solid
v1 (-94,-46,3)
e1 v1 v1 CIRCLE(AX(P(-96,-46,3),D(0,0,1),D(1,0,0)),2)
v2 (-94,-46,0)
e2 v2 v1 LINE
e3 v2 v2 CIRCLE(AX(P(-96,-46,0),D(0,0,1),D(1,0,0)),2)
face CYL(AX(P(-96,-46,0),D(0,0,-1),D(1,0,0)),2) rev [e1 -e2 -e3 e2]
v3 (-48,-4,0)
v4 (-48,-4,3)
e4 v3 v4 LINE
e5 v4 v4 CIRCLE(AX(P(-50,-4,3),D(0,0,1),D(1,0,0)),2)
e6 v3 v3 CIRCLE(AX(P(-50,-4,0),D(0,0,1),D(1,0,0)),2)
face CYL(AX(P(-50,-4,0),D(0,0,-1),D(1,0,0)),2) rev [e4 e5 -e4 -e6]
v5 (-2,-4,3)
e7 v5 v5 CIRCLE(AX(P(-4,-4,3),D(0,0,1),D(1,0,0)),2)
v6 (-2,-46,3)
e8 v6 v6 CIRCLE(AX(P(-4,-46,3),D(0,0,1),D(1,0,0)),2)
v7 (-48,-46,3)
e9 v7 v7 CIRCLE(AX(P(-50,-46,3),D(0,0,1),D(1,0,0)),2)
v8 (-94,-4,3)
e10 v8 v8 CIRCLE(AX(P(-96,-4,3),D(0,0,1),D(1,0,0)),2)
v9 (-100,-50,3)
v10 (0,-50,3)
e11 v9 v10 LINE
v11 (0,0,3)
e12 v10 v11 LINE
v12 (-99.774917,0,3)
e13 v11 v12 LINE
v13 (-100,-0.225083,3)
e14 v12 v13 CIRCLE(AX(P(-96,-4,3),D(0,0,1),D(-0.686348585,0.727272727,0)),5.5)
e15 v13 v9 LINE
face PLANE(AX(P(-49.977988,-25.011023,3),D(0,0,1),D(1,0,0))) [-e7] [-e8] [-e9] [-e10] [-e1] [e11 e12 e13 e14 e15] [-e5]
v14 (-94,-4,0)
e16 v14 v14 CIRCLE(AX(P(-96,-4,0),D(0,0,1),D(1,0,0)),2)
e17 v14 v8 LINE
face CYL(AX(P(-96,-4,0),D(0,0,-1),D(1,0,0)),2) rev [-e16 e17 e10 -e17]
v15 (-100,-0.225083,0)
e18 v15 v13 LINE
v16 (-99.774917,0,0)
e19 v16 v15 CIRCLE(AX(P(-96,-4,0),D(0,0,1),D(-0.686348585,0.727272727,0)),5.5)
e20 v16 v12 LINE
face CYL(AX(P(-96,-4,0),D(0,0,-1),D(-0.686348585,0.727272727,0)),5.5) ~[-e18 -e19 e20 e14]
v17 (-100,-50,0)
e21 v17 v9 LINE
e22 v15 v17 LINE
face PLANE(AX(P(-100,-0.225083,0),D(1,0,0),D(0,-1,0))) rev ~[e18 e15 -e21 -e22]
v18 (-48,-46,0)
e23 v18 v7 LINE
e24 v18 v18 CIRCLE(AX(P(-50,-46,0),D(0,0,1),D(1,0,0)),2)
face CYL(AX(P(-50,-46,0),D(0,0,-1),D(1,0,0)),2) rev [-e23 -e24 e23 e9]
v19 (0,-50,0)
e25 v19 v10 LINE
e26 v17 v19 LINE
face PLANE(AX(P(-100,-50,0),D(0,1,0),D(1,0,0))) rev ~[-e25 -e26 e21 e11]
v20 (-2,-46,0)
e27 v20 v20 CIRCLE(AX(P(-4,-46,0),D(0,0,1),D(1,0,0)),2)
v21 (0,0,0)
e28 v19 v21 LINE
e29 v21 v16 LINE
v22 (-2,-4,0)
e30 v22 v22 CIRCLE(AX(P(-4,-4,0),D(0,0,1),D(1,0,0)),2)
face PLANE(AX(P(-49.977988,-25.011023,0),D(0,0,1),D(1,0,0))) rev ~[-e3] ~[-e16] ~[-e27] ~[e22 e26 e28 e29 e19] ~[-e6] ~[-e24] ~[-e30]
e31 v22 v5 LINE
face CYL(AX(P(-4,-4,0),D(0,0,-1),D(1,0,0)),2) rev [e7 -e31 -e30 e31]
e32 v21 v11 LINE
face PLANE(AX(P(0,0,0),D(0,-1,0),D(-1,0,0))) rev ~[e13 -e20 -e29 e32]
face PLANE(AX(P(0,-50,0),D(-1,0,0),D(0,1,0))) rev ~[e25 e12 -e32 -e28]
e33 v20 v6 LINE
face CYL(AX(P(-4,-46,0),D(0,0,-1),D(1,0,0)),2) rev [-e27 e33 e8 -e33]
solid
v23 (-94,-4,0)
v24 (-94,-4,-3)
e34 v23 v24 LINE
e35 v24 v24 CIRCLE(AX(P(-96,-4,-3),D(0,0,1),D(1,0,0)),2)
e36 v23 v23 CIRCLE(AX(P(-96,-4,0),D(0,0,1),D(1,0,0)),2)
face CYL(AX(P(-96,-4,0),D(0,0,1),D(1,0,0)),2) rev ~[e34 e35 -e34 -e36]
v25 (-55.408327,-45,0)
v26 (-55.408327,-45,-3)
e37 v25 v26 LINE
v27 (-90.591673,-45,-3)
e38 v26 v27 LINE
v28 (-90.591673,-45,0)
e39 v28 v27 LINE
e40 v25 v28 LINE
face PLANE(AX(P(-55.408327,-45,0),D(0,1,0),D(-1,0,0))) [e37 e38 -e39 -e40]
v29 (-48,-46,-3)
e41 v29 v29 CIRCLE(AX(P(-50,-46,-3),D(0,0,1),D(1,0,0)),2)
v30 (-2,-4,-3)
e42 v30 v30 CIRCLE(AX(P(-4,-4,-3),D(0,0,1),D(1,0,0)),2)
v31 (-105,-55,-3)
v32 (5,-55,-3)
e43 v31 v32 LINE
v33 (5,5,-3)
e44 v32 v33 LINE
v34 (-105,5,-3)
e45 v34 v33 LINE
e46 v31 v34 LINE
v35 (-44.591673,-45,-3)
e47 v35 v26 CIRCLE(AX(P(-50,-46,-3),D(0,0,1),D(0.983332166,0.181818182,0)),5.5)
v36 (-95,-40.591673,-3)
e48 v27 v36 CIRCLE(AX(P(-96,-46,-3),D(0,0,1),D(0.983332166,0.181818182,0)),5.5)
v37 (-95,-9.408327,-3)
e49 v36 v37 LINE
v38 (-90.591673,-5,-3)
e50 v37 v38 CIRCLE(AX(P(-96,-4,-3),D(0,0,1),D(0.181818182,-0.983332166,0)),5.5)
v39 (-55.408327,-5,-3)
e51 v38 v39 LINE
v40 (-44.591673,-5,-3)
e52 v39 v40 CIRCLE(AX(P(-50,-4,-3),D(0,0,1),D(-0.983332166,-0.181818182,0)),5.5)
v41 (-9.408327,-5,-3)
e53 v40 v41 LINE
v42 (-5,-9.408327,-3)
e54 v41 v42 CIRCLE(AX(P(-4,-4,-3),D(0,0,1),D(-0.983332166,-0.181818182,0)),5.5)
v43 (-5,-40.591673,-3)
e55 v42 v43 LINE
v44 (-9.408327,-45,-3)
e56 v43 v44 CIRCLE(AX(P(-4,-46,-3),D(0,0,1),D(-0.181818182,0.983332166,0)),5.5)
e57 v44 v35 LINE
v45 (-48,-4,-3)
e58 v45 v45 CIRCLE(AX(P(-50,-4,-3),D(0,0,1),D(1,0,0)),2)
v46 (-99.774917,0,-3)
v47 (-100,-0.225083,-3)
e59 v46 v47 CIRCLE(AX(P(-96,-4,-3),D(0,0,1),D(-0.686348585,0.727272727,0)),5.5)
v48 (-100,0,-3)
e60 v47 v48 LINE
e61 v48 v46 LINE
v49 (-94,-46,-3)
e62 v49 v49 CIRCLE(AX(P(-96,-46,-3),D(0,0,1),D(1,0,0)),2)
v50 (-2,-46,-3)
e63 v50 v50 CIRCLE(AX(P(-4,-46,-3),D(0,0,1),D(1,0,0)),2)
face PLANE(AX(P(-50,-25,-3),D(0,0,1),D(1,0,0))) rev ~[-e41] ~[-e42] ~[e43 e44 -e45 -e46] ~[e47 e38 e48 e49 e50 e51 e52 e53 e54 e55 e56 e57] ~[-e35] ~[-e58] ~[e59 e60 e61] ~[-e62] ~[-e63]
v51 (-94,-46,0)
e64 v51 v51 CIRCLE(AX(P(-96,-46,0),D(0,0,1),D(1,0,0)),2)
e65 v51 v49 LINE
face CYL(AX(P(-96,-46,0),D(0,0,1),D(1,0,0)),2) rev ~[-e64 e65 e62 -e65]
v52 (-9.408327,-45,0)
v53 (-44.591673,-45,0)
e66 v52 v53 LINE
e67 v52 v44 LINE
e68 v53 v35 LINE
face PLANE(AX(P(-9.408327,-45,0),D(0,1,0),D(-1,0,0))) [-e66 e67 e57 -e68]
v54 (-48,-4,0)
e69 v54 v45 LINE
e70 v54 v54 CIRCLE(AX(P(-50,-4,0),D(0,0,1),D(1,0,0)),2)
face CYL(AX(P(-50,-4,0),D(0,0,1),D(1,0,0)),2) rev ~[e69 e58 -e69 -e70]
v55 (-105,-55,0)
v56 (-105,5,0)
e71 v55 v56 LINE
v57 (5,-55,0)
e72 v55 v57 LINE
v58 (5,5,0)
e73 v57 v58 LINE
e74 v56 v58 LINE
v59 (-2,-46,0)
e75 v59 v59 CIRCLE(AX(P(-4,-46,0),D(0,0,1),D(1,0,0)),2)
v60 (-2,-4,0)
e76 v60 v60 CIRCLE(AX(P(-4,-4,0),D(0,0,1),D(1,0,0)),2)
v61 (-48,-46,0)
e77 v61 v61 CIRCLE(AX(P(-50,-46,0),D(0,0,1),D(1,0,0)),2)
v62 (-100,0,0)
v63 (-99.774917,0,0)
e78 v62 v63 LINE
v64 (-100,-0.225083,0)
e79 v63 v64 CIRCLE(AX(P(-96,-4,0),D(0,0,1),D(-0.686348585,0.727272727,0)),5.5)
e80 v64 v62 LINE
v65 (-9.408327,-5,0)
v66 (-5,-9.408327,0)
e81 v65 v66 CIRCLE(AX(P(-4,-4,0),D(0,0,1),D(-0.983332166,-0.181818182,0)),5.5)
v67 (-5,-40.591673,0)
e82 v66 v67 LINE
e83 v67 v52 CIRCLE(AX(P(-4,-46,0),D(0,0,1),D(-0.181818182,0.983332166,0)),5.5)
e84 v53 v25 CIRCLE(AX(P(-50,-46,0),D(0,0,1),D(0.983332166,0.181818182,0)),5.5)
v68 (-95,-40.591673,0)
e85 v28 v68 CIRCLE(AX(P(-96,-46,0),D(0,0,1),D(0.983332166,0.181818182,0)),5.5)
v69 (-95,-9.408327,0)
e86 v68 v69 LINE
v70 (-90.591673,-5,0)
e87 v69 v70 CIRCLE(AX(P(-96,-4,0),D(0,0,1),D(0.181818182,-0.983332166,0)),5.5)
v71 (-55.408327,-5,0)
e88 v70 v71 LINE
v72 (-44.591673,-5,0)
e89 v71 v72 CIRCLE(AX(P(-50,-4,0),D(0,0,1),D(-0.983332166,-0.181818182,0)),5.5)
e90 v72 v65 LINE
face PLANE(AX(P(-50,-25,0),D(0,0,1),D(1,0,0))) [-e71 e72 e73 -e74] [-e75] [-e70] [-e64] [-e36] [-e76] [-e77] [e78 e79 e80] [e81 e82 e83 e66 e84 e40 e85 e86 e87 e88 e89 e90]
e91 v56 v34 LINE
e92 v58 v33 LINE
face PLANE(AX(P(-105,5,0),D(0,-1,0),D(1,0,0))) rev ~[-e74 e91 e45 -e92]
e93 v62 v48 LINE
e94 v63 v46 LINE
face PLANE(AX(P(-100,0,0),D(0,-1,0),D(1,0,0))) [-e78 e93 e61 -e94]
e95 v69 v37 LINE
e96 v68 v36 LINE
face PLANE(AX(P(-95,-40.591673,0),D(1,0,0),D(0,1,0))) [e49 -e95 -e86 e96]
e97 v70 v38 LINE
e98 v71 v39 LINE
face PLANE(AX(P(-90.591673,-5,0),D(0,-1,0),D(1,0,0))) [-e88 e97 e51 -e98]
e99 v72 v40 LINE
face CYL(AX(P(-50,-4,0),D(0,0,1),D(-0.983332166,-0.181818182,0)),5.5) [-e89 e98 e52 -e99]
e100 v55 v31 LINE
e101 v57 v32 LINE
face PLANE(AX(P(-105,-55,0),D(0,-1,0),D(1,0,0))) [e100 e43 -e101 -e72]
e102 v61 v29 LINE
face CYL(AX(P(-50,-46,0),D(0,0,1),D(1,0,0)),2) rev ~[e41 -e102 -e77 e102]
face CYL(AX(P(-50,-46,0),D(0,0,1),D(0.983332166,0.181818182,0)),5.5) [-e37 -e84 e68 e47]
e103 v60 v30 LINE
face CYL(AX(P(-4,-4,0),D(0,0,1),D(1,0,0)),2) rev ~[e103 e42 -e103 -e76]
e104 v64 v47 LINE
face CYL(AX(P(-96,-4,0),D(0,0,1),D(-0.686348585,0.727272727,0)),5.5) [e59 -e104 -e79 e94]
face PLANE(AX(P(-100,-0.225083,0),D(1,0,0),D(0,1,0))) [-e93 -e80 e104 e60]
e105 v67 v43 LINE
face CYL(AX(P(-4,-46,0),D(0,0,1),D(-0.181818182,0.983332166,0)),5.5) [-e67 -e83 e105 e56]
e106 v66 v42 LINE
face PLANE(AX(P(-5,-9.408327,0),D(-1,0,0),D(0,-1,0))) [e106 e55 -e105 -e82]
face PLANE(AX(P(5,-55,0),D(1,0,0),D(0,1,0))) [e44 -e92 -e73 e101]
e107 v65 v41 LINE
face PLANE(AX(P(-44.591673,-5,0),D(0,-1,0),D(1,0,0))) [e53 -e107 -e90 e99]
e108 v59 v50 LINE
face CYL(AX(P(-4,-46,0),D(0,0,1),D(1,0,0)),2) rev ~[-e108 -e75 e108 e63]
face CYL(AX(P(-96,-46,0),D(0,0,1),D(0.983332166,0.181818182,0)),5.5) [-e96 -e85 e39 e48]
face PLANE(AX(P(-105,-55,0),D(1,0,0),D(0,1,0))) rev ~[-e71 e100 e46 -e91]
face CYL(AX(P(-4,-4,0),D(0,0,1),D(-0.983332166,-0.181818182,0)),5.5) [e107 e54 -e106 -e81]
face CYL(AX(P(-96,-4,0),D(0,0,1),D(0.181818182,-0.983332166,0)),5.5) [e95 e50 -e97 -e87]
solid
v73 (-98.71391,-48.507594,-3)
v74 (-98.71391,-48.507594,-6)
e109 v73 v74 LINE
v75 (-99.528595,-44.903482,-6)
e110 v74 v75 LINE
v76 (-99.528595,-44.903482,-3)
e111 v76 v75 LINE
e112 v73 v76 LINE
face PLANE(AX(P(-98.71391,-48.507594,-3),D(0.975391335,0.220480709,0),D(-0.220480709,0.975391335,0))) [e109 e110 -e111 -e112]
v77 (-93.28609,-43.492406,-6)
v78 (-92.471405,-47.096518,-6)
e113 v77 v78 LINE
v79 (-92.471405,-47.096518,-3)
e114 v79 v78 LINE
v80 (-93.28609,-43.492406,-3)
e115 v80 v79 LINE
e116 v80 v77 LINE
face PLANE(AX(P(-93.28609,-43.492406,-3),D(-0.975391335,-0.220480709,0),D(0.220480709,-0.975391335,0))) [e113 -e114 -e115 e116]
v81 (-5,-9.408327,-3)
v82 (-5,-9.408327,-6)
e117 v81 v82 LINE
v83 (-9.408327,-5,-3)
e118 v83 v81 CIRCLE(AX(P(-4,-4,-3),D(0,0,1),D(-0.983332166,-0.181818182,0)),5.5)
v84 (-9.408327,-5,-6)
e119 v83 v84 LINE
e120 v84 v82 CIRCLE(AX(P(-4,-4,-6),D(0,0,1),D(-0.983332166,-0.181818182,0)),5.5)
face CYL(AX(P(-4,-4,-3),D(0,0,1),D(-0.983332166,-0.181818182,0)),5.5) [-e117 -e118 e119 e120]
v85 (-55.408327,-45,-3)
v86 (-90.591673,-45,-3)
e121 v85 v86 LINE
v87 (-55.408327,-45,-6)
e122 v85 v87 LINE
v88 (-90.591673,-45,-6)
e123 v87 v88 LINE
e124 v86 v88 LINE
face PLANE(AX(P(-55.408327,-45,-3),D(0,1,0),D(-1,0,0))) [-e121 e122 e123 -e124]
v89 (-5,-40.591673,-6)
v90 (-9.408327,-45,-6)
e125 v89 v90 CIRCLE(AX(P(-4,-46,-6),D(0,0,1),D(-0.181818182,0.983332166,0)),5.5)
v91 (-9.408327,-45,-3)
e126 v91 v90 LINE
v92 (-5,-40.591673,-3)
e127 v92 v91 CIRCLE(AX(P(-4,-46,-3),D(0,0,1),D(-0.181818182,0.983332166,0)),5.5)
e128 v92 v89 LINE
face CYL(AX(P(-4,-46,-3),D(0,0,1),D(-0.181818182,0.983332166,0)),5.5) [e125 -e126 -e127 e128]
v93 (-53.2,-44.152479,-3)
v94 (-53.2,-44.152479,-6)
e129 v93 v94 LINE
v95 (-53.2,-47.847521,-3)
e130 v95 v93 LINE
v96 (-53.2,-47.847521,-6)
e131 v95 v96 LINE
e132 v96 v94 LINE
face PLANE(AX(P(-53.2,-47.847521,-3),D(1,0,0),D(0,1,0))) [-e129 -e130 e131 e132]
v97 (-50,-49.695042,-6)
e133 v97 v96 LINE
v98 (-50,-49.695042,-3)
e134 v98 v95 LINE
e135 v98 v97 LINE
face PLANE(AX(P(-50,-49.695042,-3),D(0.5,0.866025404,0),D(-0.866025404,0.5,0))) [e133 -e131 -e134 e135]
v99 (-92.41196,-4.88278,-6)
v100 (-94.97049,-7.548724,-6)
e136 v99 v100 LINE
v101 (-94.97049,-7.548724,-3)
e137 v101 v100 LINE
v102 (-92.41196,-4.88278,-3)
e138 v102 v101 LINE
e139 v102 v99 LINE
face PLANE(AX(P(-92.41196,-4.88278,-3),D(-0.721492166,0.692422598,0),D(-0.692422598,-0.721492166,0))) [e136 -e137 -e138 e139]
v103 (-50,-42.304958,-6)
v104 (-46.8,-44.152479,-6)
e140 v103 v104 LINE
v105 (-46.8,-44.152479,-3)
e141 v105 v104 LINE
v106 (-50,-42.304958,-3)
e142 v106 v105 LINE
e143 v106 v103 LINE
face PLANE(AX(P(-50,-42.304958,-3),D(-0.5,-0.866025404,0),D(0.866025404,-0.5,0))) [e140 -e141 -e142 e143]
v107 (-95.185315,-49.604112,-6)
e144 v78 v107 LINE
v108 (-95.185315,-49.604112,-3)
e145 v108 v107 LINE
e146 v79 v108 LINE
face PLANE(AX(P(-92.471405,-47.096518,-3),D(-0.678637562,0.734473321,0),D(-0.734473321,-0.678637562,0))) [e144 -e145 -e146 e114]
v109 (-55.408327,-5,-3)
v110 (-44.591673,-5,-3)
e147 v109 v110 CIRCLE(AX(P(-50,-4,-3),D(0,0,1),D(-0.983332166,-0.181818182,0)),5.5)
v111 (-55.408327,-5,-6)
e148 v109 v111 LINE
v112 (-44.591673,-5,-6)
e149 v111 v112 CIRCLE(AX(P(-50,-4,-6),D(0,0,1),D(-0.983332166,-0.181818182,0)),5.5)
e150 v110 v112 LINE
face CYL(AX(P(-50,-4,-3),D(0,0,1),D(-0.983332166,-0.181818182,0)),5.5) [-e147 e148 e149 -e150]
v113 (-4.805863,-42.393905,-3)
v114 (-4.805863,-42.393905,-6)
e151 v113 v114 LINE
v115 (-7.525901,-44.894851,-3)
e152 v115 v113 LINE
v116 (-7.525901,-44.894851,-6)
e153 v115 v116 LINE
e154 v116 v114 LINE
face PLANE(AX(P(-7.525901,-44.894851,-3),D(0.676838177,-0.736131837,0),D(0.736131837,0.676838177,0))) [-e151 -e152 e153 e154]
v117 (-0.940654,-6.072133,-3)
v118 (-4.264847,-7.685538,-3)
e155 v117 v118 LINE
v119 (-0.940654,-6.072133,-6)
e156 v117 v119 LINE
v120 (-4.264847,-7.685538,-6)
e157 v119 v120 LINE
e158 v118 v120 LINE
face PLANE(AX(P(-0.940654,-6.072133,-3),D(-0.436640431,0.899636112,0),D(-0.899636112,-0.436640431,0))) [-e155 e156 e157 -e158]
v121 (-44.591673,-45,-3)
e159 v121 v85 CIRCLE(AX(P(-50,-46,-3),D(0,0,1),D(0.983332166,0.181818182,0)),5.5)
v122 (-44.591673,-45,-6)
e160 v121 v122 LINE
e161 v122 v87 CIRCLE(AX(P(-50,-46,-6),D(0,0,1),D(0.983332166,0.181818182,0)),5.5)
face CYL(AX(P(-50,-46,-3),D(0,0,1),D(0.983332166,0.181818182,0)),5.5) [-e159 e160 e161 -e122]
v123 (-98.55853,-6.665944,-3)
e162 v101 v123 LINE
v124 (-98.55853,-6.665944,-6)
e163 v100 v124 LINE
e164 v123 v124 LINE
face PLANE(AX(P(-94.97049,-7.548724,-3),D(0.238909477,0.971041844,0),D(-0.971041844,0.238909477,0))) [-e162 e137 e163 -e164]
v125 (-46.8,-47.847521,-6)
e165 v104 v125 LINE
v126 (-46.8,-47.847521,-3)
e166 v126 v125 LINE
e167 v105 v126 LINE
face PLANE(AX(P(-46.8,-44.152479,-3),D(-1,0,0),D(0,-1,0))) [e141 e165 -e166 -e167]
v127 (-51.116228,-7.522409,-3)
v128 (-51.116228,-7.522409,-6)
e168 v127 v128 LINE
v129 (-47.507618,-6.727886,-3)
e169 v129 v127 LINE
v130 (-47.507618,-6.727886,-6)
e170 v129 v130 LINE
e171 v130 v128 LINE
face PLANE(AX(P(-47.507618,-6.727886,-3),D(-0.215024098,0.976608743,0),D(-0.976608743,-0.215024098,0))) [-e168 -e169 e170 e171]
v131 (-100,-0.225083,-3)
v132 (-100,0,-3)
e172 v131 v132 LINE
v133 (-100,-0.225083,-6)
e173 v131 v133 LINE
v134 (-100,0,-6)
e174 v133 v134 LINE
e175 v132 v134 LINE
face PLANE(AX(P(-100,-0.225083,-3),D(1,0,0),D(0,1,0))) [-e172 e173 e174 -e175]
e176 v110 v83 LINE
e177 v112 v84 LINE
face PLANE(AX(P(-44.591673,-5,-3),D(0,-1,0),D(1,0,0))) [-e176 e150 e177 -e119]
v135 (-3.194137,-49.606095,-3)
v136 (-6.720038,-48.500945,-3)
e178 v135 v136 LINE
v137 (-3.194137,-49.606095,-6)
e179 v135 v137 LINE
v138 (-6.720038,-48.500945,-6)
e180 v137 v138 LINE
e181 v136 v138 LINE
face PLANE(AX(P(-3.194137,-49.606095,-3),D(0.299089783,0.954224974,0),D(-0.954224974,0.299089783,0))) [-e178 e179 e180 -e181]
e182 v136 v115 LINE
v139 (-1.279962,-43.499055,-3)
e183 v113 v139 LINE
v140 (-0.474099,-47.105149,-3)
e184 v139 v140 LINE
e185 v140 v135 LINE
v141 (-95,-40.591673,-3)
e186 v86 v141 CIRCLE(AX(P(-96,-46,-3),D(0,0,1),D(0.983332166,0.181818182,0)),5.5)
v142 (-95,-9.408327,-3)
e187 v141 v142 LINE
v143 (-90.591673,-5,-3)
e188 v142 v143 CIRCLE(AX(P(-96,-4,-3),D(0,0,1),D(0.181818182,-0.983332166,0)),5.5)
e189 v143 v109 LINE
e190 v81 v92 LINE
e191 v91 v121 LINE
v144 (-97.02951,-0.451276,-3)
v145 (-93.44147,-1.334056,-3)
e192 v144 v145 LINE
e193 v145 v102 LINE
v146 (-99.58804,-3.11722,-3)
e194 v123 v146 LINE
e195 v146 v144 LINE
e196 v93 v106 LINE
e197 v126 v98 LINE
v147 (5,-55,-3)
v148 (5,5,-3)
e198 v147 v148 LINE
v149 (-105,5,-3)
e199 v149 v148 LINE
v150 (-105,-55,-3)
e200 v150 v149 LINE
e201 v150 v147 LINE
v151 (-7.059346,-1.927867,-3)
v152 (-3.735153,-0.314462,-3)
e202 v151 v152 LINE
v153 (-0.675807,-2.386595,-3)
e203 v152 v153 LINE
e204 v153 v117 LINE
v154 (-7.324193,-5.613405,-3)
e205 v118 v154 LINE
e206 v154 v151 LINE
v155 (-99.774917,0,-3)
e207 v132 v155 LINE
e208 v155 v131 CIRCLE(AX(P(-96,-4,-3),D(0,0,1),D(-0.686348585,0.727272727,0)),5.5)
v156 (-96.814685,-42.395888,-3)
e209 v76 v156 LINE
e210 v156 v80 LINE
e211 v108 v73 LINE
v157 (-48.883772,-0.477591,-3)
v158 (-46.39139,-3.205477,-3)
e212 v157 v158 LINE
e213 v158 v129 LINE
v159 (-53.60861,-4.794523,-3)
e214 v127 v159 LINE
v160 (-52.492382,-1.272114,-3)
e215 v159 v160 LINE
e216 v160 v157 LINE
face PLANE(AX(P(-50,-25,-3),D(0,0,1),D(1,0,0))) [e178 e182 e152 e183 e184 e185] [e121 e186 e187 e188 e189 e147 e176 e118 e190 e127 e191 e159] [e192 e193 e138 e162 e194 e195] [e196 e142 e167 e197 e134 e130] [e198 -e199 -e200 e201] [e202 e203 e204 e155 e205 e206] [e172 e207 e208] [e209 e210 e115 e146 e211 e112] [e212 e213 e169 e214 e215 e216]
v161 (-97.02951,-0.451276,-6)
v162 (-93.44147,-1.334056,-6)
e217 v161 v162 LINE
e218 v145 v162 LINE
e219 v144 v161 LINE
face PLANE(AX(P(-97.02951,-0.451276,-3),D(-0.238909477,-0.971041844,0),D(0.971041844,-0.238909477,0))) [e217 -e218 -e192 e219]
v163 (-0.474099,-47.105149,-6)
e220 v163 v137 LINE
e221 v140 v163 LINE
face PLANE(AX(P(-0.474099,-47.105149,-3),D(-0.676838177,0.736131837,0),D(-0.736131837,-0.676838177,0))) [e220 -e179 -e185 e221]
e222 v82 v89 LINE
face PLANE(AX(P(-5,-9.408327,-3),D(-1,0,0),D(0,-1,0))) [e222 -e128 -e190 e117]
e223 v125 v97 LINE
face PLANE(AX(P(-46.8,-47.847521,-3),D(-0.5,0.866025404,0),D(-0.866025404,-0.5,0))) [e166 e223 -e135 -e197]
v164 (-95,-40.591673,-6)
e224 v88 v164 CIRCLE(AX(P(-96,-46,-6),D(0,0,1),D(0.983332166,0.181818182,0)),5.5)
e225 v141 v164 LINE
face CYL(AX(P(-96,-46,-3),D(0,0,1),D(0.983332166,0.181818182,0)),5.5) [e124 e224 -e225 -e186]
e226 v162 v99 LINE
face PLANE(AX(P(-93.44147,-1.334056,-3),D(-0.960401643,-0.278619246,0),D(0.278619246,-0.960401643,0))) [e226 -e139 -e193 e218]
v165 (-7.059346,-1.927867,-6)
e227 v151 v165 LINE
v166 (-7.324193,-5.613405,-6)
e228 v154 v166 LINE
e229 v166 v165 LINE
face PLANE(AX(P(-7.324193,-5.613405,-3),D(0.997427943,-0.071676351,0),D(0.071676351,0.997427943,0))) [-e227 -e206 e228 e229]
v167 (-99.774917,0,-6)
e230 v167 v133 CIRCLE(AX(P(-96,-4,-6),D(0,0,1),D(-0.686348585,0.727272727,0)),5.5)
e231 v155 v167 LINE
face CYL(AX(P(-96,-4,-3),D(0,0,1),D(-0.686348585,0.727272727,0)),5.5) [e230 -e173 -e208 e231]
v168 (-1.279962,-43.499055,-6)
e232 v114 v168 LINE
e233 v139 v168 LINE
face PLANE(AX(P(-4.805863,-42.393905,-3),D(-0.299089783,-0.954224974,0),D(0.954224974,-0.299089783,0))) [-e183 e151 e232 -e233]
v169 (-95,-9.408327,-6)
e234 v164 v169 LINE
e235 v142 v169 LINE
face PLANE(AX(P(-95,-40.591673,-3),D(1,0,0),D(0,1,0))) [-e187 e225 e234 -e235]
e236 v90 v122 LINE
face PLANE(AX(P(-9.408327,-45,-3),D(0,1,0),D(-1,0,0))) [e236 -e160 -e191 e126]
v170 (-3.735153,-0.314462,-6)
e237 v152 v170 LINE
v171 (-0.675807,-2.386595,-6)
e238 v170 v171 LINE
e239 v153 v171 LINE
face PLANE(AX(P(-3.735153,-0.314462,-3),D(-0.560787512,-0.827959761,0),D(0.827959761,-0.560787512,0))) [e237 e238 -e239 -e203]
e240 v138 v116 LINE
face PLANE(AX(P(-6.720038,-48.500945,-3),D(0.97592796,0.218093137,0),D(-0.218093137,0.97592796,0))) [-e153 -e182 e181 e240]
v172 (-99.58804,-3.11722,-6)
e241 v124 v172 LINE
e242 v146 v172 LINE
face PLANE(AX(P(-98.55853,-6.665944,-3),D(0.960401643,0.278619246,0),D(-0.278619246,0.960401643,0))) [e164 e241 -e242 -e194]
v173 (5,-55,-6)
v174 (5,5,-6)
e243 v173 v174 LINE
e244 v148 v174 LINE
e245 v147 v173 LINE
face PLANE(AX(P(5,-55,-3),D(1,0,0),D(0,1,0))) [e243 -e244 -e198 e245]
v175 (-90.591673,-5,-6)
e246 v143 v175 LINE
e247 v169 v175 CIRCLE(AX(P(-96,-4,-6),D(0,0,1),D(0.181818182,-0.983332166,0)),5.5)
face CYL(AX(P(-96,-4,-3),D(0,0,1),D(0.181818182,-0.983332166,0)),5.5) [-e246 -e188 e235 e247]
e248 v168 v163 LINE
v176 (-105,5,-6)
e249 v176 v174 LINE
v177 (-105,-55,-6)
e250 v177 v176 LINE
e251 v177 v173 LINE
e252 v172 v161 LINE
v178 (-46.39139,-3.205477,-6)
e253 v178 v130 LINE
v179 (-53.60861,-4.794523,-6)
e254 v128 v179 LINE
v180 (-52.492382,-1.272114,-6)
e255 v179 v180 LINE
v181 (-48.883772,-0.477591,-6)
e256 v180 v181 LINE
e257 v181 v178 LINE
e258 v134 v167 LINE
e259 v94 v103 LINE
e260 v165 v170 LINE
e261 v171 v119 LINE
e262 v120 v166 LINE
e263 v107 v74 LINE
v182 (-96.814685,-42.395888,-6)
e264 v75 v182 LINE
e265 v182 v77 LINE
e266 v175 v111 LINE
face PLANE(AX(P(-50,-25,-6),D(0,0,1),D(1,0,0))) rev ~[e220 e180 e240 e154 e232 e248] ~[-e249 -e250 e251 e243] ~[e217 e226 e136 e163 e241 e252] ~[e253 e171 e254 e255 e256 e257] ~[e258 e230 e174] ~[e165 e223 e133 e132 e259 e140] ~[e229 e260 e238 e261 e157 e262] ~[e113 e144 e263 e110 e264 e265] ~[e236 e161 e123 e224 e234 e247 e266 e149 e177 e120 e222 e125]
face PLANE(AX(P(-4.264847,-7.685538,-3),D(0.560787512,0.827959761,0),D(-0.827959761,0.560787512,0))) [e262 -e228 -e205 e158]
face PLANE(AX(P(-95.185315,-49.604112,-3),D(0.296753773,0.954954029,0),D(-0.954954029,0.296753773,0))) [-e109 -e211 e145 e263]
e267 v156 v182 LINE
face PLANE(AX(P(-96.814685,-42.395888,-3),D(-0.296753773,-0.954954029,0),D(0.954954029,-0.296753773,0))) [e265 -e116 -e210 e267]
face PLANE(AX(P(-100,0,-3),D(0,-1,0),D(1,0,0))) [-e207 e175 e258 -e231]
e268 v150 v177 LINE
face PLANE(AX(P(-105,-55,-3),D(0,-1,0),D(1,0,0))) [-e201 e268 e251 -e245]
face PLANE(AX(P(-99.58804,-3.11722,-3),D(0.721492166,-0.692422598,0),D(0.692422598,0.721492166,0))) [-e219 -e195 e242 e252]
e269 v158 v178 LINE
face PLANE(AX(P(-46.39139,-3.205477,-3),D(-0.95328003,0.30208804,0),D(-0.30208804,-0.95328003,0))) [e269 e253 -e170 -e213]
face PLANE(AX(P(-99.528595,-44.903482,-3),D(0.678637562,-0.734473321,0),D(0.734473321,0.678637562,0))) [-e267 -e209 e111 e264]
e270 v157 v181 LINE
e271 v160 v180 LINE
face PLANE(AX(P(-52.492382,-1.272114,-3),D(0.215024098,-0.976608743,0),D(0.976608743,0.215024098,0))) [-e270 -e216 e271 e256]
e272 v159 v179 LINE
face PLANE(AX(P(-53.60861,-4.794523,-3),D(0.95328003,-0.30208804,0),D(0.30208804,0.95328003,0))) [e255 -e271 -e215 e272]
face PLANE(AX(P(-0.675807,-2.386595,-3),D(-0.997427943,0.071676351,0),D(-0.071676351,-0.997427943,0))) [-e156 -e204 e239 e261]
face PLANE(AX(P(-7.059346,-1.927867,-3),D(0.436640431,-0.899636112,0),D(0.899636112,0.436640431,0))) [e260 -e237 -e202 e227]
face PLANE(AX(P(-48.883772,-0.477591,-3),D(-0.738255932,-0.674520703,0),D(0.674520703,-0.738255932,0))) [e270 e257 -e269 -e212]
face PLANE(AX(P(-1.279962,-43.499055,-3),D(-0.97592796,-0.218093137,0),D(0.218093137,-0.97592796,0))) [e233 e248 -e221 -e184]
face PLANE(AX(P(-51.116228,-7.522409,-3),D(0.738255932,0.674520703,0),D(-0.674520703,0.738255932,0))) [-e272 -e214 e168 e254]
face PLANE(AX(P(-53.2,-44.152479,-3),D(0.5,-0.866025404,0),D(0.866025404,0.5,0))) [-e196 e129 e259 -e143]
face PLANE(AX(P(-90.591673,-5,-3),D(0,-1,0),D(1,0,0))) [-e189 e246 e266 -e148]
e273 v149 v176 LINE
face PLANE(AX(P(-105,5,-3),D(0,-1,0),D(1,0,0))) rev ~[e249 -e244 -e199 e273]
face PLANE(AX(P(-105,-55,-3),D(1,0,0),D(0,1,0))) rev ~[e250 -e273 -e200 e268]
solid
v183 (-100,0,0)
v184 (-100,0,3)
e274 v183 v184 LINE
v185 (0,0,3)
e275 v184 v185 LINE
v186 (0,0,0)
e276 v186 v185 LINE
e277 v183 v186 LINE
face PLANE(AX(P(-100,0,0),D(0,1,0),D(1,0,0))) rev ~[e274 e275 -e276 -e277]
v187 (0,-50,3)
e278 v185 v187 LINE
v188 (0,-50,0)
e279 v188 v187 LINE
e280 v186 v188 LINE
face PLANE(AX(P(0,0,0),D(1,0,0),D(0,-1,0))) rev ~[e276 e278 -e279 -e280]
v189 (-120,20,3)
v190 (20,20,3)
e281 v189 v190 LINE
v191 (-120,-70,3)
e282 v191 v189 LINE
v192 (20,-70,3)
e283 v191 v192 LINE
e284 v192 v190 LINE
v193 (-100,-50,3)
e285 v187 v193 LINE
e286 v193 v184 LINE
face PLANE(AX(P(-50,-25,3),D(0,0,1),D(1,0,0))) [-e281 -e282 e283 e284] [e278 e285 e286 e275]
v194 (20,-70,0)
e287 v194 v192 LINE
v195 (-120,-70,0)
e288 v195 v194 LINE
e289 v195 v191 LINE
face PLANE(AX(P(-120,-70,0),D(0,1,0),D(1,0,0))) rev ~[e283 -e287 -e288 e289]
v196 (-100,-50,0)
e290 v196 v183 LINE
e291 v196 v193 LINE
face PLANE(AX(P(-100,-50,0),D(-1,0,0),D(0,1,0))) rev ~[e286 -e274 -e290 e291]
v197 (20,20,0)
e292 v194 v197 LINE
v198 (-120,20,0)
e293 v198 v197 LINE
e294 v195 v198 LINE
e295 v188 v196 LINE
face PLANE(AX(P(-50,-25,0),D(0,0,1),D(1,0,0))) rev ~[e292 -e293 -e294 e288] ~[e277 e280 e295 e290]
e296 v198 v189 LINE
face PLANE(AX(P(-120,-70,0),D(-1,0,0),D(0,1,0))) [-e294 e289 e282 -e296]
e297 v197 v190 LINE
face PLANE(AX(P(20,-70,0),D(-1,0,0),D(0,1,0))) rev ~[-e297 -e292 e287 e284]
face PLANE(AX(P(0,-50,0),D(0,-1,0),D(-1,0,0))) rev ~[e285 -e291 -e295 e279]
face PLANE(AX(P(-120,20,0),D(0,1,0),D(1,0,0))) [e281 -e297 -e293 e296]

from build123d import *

# Parameters (mm, degrees)
F0_W     = 140
F0_H     = 90
F0_W_2   = 110
F0_H_2   = 60
F1_DEPTH = 3
F0_R     = 2
F2_DEPTH = 3
F3_DEPTH = 3
F4_START = -3
F4_DEPTH = 3


with BuildPart() as f1:
    # F0 (on Top) → F1 (new body)
    with BuildSketch(Plane.XY):
        with Locations((-50, -25)):
            Rectangle(F0_W, F0_H)
        with Locations((-50, -25)):
            Rectangle(F0_W_2, F0_H_2, mode=Mode.SUBTRACT)
        with Locations((-50, -25)):
            Rectangle(F0_W_2, F0_H_2)
        Polygon((-99.7749172176, 0), (0, 0), (0, -50), (-100, -50), (-100, -0.2250827824), (-100, 0), align=None, mode=Mode.SUBTRACT)
    extrude(amount=F1_DEPTH)


with BuildPart() as f2:
    # F0 (on Top) → F2 (new body)
    with BuildSketch(Plane.XY):
        with Locations((-50, -25)):
            Rectangle(F0_W_2, F0_H_2)
        Polygon((-99.7749172176, 0), (0, 0), (0, -50), (-100, -50), (-100, -0.2250827824), (-100, 0), align=None, mode=Mode.SUBTRACT)
        with BuildLine():
            Line((0, -50), (0, 0))
            Line((0, 0), (-99.7749172176, 0))
            ThreePointArc((-99.7749172176, 0), (-99.8890872965, -0.1109127035), (-100, -0.2250827824))
            Line((-100, -0.2250827824), (-100, -50))
            Line((-100, -50), (0, -50))
        make_face()
        Polygon((-99.5285949818, -44.9034824272), (-96.8146854172, -42.3958883197), (-93.2860904353, -43.4924058925), (-92.4714050182, -47.0965175728), (-95.1853145828, -49.6041116803), (-98.7139095647, -48.5075941075), align=None, mode=Mode.SUBTRACT)
        Polygon((-50, -42.3049582772), (-46.8, -44.1524791386), (-46.8, -47.8475208614), (-50, -49.6950417228), (-53.2, -47.8475208614), (-53.2, -44.1524791386), align=None, mode=Mode.SUBTRACT)
        Polygon((-6.7200378526, -48.500945304), (-7.5259010931, -44.8948507724), (-4.8058632405, -42.3939054684), (-1.2799621474, -43.499054696), (-0.4740989069, -47.1051492276), (-3.1941367595, -49.6060945316), align=None, mode=Mode.SUBTRACT)
        Polygon((-93.441469611, -1.334056343), (-92.4119598735, -4.8827804847), (-94.9704902625, -7.5487241417), (-98.558530389, -6.665943657), (-99.5880401265, -3.1172195153), (-97.0295097375, -0.4512758583), align=None, mode=Mode.SUBTRACT)
        with BuildLine():
            Line((-44.5916730868, -5), (-9.4083269132, -5))
            ThreePointArc((-9.4083269132, -5), (-7.8890872965, -7.8890872965), (-5, -9.4083269132))
            Line((-5, -9.4083269132), (-5, -40.5916730868))
            ThreePointArc((-5, -40.5916730868), (-7.8890872965, -42.1109127035), (-9.4083269132, -45))
            Line((-9.4083269132, -45), (-44.5916730868, -45))
            ThreePointArc((-44.5916730868, -45), (-50, -40.5), (-55.4083269132, -45))
            Line((-55.4083269132, -45), (-90.5916730868, -45))
            ThreePointArc((-90.5916730868, -45), (-92.1109127035, -42.1109127035), (-95, -40.5916730868))
            Line((-95, -40.5916730868), (-95, -9.4083269132))
            ThreePointArc((-95, -9.4083269132), (-92.1109127035, -7.8890872965), (-90.5916730868, -5))
            Line((-90.5916730868, -5), (-55.4083269132, -5))
            ThreePointArc((-55.4083269132, -5), (-50, -9.5), (-44.5916730868, -5))
        make_face(mode=Mode.SUBTRACT)
        Polygon((-46.3913899472, -3.2054769858), (-47.5076178594, -6.727886471), (-51.1162279122, -7.5224094852), (-53.6086100528, -4.7945230142), (-52.4923821406, -1.272113529), (-48.8837720878, -0.4775905148), align=None, mode=Mode.SUBTRACT)
        Polygon((-0.6758070303, -2.3865953906), (-0.9406541368, -6.0721332541), (-4.2648471065, -7.6855378635), (-7.3241929697, -5.6134046094), (-7.0593458632, -1.9278667459), (-3.7351528935, -0.3144621365), align=None, mode=Mode.SUBTRACT)
        Polygon((-93.2860904353, -43.4924058925), (-96.8146854172, -42.3958883197), (-99.5285949818, -44.9034824272), (-98.7139095647, -48.5075941075), (-95.1853145828, -49.6041116803), (-92.4714050182, -47.0965175728), align=None)
        with Locations((-96, -46)):
            Circle(F0_R, mode=Mode.SUBTRACT)
        Polygon((-94.9704902625, -7.5487241417), (-92.4119598735, -4.8827804847), (-93.441469611, -1.334056343), (-97.0295097375, -0.4512758583), (-99.5880401265, -3.1172195153), (-98.558530389, -6.665943657), align=None)
        with Locations((-96, -4)):
            Circle(F0_R, mode=Mode.SUBTRACT)
        Polygon((-46.8, -47.8475208614), (-46.8, -44.1524791386), (-50, -42.3049582772), (-53.2, -44.1524791386), (-53.2, -47.8475208614), (-50, -49.6950417228), align=None)
        with Locations((-50, -46)):
            Circle(F0_R, mode=Mode.SUBTRACT)
        Polygon((-51.1162279122, -7.5224094852), (-47.5076178594, -6.727886471), (-46.3913899472, -3.2054769858), (-48.8837720878, -0.4775905148), (-52.4923821406, -1.272113529), (-53.6086100528, -4.7945230142), align=None)
        with Locations((-50, -4)):
            Circle(F0_R, mode=Mode.SUBTRACT)
        Polygon((-4.2648471065, -7.6855378635), (-0.9406541368, -6.0721332541), (-0.6758070303, -2.3865953906), (-3.7351528935, -0.3144621365), (-7.0593458632, -1.9278667459), (-7.3241929697, -5.6134046094), align=None)
        with Locations((-4, -4)):
            Circle(F0_R, mode=Mode.SUBTRACT)
        Polygon((-4.8058632405, -42.3939054684), (-7.5259010931, -44.8948507724), (-6.7200378526, -48.500945304), (-3.1941367595, -49.6060945316), (-0.4740989069, -47.1051492276), (-1.2799621474, -43.499054696), align=None)
        with Locations((-4, -46)):
            Circle(F0_R, mode=Mode.SUBTRACT)
    extrude(amount=-F2_DEPTH)


with BuildPart() as f3:
    # F0 (on Top) → F3 (new body)
    with BuildSketch(Plane.XY):
        with BuildLine():
            Line((0, -50), (0, 0))
            Line((0, 0), (-99.7749172176, 0))
            ThreePointArc((-99.7749172176, 0), (-99.8890872965, -0.1109127035), (-100, -0.2250827824))
            Line((-100, -0.2250827824), (-100, -50))
            Line((-100, -50), (0, -50))
        make_face()
        Polygon((-99.5285949818, -44.9034824272), (-96.8146854172, -42.3958883197), (-93.2860904353, -43.4924058925), (-92.4714050182, -47.0965175728), (-95.1853145828, -49.6041116803), (-98.7139095647, -48.5075941075), align=None, mode=Mode.SUBTRACT)
        Polygon((-50, -42.3049582772), (-46.8, -44.1524791386), (-46.8, -47.8475208614), (-50, -49.6950417228), (-53.2, -47.8475208614), (-53.2, -44.1524791386), align=None, mode=Mode.SUBTRACT)
        Polygon((-6.7200378526, -48.500945304), (-7.5259010931, -44.8948507724), (-4.8058632405, -42.3939054684), (-1.2799621474, -43.499054696), (-0.4740989069, -47.1051492276), (-3.1941367595, -49.6060945316), align=None, mode=Mode.SUBTRACT)
        Polygon((-93.441469611, -1.334056343), (-92.4119598735, -4.8827804847), (-94.9704902625, -7.5487241417), (-98.558530389, -6.665943657), (-99.5880401265, -3.1172195153), (-97.0295097375, -0.4512758583), align=None, mode=Mode.SUBTRACT)
        with BuildLine():
            Line((-44.5916730868, -5), (-9.4083269132, -5))
            ThreePointArc((-9.4083269132, -5), (-7.8890872965, -7.8890872965), (-5, -9.4083269132))
            Line((-5, -9.4083269132), (-5, -40.5916730868))
            ThreePointArc((-5, -40.5916730868), (-7.8890872965, -42.1109127035), (-9.4083269132, -45))
            Line((-9.4083269132, -45), (-44.5916730868, -45))
            ThreePointArc((-44.5916730868, -45), (-50, -40.5), (-55.4083269132, -45))
            Line((-55.4083269132, -45), (-90.5916730868, -45))
            ThreePointArc((-90.5916730868, -45), (-92.1109127035, -42.1109127035), (-95, -40.5916730868))
            Line((-95, -40.5916730868), (-95, -9.4083269132))
            ThreePointArc((-95, -9.4083269132), (-92.1109127035, -7.8890872965), (-90.5916730868, -5))
            Line((-90.5916730868, -5), (-55.4083269132, -5))
            ThreePointArc((-55.4083269132, -5), (-50, -9.5), (-44.5916730868, -5))
        make_face(mode=Mode.SUBTRACT)
        Polygon((-46.3913899472, -3.2054769858), (-47.5076178594, -6.727886471), (-51.1162279122, -7.5224094852), (-53.6086100528, -4.7945230142), (-52.4923821406, -1.272113529), (-48.8837720878, -0.4775905148), align=None, mode=Mode.SUBTRACT)
        Polygon((-0.6758070303, -2.3865953906), (-0.9406541368, -6.0721332541), (-4.2648471065, -7.6855378635), (-7.3241929697, -5.6134046094), (-7.0593458632, -1.9278667459), (-3.7351528935, -0.3144621365), align=None, mode=Mode.SUBTRACT)
        with BuildLine():
            ThreePointArc((-5, -9.4083269132), (-7.8890872965, -7.8890872965), (-9.4083269132, -5))
            Line((-9.4083269132, -5), (-44.5916730868, -5))
            ThreePointArc((-44.5916730868, -5), (-50, -9.5), (-55.4083269132, -5))
            Line((-55.4083269132, -5), (-90.5916730868, -5))
            ThreePointArc((-90.5916730868, -5), (-92.1109127035, -7.8890872965), (-95, -9.4083269132))
            Line((-95, -9.4083269132), (-95, -40.5916730868))
            ThreePointArc((-95, -40.5916730868), (-92.1109127035, -42.1109127035), (-90.5916730868, -45))
            Line((-90.5916730868, -45), (-55.4083269132, -45))
            ThreePointArc((-55.4083269132, -45), (-50, -40.5), (-44.5916730868, -45))
            Line((-44.5916730868, -45), (-9.4083269132, -45))
            ThreePointArc((-9.4083269132, -45), (-7.8890872965, -42.1109127035), (-5, -40.5916730868))
            Line((-5, -40.5916730868), (-5, -9.4083269132))
        make_face()
        Polygon((-94.9704902625, -7.5487241417), (-92.4119598735, -4.8827804847), (-93.441469611, -1.334056343), (-97.0295097375, -0.4512758583), (-99.5880401265, -3.1172195153), (-98.558530389, -6.665943657), align=None)
        with Locations((-96, -4)):
            Circle(F0_R, mode=Mode.SUBTRACT)
        Polygon((-93.2860904353, -43.4924058925), (-96.8146854172, -42.3958883197), (-99.5285949818, -44.9034824272), (-98.7139095647, -48.5075941075), (-95.1853145828, -49.6041116803), (-92.4714050182, -47.0965175728), align=None)
        with Locations((-96, -46)):
            Circle(F0_R, mode=Mode.SUBTRACT)
        Polygon((-51.1162279122, -7.5224094852), (-47.5076178594, -6.727886471), (-46.3913899472, -3.2054769858), (-48.8837720878, -0.4775905148), (-52.4923821406, -1.272113529), (-53.6086100528, -4.7945230142), align=None)
        with Locations((-50, -4)):
            Circle(F0_R, mode=Mode.SUBTRACT)
        Polygon((-46.8, -47.8475208614), (-46.8, -44.1524791386), (-50, -42.3049582772), (-53.2, -44.1524791386), (-53.2, -47.8475208614), (-50, -49.6950417228), align=None)
        with Locations((-50, -46)):
            Circle(F0_R, mode=Mode.SUBTRACT)
        Polygon((-4.2648471065, -7.6855378635), (-0.9406541368, -6.0721332541), (-0.6758070303, -2.3865953906), (-3.7351528935, -0.3144621365), (-7.0593458632, -1.9278667459), (-7.3241929697, -5.6134046094), align=None)
        with Locations((-4, -4)):
            Circle(F0_R, mode=Mode.SUBTRACT)
        Polygon((-4.8058632405, -42.3939054684), (-7.5259010931, -44.8948507724), (-6.7200378526, -48.500945304), (-3.1941367595, -49.6060945316), (-0.4740989069, -47.1051492276), (-1.2799621474, -43.499054696), align=None)
        with Locations((-4, -46)):
            Circle(F0_R, mode=Mode.SUBTRACT)
    extrude(amount=F3_DEPTH)


with BuildPart() as f4:
    # F0 (on Top) → F4 (new body)
    with BuildSketch(Plane.XY.offset(F4_START)):
        with Locations((-50, -25)):
            Rectangle(F0_W_2, F0_H_2)
        Polygon((-99.7749172176, 0), (0, 0), (0, -50), (-100, -50), (-100, -0.2250827824), (-100, 0), align=None, mode=Mode.SUBTRACT)
        with BuildLine():
            Line((0, -50), (0, 0))
            Line((0, 0), (-99.7749172176, 0))
            ThreePointArc((-99.7749172176, 0), (-99.8890872965, -0.1109127035), (-100, -0.2250827824))
            Line((-100, -0.2250827824), (-100, -50))
            Line((-100, -50), (0, -50))
        make_face()
        Polygon((-99.5285949818, -44.9034824272), (-96.8146854172, -42.3958883197), (-93.2860904353, -43.4924058925), (-92.4714050182, -47.0965175728), (-95.1853145828, -49.6041116803), (-98.7139095647, -48.5075941075), align=None, mode=Mode.SUBTRACT)
        Polygon((-50, -42.3049582772), (-46.8, -44.1524791386), (-46.8, -47.8475208614), (-50, -49.6950417228), (-53.2, -47.8475208614), (-53.2, -44.1524791386), align=None, mode=Mode.SUBTRACT)
        Polygon((-6.7200378526, -48.500945304), (-7.5259010931, -44.8948507724), (-4.8058632405, -42.3939054684), (-1.2799621474, -43.499054696), (-0.4740989069, -47.1051492276), (-3.1941367595, -49.6060945316), align=None, mode=Mode.SUBTRACT)
        Polygon((-93.441469611, -1.334056343), (-92.4119598735, -4.8827804847), (-94.9704902625, -7.5487241417), (-98.558530389, -6.665943657), (-99.5880401265, -3.1172195153), (-97.0295097375, -0.4512758583), align=None, mode=Mode.SUBTRACT)
        with BuildLine():
            Line((-44.5916730868, -5), (-9.4083269132, -5))
            ThreePointArc((-9.4083269132, -5), (-7.8890872965, -7.8890872965), (-5, -9.4083269132))
            Line((-5, -9.4083269132), (-5, -40.5916730868))
            ThreePointArc((-5, -40.5916730868), (-7.8890872965, -42.1109127035), (-9.4083269132, -45))
            Line((-9.4083269132, -45), (-44.5916730868, -45))
            ThreePointArc((-44.5916730868, -45), (-50, -40.5), (-55.4083269132, -45))
            Line((-55.4083269132, -45), (-90.5916730868, -45))
            ThreePointArc((-90.5916730868, -45), (-92.1109127035, -42.1109127035), (-95, -40.5916730868))
            Line((-95, -40.5916730868), (-95, -9.4083269132))
            ThreePointArc((-95, -9.4083269132), (-92.1109127035, -7.8890872965), (-90.5916730868, -5))
            Line((-90.5916730868, -5), (-55.4083269132, -5))
            ThreePointArc((-55.4083269132, -5), (-50, -9.5), (-44.5916730868, -5))
        make_face(mode=Mode.SUBTRACT)
        Polygon((-46.3913899472, -3.2054769858), (-47.5076178594, -6.727886471), (-51.1162279122, -7.5224094852), (-53.6086100528, -4.7945230142), (-52.4923821406, -1.272113529), (-48.8837720878, -0.4775905148), align=None, mode=Mode.SUBTRACT)
        Polygon((-0.6758070303, -2.3865953906), (-0.9406541368, -6.0721332541), (-4.2648471065, -7.6855378635), (-7.3241929697, -5.6134046094), (-7.0593458632, -1.9278667459), (-3.7351528935, -0.3144621365), align=None, mode=Mode.SUBTRACT)
    extrude(amount=-F4_DEPTH)


solid = Compound([f1.part, f2.part, f3.part, f4.part])
